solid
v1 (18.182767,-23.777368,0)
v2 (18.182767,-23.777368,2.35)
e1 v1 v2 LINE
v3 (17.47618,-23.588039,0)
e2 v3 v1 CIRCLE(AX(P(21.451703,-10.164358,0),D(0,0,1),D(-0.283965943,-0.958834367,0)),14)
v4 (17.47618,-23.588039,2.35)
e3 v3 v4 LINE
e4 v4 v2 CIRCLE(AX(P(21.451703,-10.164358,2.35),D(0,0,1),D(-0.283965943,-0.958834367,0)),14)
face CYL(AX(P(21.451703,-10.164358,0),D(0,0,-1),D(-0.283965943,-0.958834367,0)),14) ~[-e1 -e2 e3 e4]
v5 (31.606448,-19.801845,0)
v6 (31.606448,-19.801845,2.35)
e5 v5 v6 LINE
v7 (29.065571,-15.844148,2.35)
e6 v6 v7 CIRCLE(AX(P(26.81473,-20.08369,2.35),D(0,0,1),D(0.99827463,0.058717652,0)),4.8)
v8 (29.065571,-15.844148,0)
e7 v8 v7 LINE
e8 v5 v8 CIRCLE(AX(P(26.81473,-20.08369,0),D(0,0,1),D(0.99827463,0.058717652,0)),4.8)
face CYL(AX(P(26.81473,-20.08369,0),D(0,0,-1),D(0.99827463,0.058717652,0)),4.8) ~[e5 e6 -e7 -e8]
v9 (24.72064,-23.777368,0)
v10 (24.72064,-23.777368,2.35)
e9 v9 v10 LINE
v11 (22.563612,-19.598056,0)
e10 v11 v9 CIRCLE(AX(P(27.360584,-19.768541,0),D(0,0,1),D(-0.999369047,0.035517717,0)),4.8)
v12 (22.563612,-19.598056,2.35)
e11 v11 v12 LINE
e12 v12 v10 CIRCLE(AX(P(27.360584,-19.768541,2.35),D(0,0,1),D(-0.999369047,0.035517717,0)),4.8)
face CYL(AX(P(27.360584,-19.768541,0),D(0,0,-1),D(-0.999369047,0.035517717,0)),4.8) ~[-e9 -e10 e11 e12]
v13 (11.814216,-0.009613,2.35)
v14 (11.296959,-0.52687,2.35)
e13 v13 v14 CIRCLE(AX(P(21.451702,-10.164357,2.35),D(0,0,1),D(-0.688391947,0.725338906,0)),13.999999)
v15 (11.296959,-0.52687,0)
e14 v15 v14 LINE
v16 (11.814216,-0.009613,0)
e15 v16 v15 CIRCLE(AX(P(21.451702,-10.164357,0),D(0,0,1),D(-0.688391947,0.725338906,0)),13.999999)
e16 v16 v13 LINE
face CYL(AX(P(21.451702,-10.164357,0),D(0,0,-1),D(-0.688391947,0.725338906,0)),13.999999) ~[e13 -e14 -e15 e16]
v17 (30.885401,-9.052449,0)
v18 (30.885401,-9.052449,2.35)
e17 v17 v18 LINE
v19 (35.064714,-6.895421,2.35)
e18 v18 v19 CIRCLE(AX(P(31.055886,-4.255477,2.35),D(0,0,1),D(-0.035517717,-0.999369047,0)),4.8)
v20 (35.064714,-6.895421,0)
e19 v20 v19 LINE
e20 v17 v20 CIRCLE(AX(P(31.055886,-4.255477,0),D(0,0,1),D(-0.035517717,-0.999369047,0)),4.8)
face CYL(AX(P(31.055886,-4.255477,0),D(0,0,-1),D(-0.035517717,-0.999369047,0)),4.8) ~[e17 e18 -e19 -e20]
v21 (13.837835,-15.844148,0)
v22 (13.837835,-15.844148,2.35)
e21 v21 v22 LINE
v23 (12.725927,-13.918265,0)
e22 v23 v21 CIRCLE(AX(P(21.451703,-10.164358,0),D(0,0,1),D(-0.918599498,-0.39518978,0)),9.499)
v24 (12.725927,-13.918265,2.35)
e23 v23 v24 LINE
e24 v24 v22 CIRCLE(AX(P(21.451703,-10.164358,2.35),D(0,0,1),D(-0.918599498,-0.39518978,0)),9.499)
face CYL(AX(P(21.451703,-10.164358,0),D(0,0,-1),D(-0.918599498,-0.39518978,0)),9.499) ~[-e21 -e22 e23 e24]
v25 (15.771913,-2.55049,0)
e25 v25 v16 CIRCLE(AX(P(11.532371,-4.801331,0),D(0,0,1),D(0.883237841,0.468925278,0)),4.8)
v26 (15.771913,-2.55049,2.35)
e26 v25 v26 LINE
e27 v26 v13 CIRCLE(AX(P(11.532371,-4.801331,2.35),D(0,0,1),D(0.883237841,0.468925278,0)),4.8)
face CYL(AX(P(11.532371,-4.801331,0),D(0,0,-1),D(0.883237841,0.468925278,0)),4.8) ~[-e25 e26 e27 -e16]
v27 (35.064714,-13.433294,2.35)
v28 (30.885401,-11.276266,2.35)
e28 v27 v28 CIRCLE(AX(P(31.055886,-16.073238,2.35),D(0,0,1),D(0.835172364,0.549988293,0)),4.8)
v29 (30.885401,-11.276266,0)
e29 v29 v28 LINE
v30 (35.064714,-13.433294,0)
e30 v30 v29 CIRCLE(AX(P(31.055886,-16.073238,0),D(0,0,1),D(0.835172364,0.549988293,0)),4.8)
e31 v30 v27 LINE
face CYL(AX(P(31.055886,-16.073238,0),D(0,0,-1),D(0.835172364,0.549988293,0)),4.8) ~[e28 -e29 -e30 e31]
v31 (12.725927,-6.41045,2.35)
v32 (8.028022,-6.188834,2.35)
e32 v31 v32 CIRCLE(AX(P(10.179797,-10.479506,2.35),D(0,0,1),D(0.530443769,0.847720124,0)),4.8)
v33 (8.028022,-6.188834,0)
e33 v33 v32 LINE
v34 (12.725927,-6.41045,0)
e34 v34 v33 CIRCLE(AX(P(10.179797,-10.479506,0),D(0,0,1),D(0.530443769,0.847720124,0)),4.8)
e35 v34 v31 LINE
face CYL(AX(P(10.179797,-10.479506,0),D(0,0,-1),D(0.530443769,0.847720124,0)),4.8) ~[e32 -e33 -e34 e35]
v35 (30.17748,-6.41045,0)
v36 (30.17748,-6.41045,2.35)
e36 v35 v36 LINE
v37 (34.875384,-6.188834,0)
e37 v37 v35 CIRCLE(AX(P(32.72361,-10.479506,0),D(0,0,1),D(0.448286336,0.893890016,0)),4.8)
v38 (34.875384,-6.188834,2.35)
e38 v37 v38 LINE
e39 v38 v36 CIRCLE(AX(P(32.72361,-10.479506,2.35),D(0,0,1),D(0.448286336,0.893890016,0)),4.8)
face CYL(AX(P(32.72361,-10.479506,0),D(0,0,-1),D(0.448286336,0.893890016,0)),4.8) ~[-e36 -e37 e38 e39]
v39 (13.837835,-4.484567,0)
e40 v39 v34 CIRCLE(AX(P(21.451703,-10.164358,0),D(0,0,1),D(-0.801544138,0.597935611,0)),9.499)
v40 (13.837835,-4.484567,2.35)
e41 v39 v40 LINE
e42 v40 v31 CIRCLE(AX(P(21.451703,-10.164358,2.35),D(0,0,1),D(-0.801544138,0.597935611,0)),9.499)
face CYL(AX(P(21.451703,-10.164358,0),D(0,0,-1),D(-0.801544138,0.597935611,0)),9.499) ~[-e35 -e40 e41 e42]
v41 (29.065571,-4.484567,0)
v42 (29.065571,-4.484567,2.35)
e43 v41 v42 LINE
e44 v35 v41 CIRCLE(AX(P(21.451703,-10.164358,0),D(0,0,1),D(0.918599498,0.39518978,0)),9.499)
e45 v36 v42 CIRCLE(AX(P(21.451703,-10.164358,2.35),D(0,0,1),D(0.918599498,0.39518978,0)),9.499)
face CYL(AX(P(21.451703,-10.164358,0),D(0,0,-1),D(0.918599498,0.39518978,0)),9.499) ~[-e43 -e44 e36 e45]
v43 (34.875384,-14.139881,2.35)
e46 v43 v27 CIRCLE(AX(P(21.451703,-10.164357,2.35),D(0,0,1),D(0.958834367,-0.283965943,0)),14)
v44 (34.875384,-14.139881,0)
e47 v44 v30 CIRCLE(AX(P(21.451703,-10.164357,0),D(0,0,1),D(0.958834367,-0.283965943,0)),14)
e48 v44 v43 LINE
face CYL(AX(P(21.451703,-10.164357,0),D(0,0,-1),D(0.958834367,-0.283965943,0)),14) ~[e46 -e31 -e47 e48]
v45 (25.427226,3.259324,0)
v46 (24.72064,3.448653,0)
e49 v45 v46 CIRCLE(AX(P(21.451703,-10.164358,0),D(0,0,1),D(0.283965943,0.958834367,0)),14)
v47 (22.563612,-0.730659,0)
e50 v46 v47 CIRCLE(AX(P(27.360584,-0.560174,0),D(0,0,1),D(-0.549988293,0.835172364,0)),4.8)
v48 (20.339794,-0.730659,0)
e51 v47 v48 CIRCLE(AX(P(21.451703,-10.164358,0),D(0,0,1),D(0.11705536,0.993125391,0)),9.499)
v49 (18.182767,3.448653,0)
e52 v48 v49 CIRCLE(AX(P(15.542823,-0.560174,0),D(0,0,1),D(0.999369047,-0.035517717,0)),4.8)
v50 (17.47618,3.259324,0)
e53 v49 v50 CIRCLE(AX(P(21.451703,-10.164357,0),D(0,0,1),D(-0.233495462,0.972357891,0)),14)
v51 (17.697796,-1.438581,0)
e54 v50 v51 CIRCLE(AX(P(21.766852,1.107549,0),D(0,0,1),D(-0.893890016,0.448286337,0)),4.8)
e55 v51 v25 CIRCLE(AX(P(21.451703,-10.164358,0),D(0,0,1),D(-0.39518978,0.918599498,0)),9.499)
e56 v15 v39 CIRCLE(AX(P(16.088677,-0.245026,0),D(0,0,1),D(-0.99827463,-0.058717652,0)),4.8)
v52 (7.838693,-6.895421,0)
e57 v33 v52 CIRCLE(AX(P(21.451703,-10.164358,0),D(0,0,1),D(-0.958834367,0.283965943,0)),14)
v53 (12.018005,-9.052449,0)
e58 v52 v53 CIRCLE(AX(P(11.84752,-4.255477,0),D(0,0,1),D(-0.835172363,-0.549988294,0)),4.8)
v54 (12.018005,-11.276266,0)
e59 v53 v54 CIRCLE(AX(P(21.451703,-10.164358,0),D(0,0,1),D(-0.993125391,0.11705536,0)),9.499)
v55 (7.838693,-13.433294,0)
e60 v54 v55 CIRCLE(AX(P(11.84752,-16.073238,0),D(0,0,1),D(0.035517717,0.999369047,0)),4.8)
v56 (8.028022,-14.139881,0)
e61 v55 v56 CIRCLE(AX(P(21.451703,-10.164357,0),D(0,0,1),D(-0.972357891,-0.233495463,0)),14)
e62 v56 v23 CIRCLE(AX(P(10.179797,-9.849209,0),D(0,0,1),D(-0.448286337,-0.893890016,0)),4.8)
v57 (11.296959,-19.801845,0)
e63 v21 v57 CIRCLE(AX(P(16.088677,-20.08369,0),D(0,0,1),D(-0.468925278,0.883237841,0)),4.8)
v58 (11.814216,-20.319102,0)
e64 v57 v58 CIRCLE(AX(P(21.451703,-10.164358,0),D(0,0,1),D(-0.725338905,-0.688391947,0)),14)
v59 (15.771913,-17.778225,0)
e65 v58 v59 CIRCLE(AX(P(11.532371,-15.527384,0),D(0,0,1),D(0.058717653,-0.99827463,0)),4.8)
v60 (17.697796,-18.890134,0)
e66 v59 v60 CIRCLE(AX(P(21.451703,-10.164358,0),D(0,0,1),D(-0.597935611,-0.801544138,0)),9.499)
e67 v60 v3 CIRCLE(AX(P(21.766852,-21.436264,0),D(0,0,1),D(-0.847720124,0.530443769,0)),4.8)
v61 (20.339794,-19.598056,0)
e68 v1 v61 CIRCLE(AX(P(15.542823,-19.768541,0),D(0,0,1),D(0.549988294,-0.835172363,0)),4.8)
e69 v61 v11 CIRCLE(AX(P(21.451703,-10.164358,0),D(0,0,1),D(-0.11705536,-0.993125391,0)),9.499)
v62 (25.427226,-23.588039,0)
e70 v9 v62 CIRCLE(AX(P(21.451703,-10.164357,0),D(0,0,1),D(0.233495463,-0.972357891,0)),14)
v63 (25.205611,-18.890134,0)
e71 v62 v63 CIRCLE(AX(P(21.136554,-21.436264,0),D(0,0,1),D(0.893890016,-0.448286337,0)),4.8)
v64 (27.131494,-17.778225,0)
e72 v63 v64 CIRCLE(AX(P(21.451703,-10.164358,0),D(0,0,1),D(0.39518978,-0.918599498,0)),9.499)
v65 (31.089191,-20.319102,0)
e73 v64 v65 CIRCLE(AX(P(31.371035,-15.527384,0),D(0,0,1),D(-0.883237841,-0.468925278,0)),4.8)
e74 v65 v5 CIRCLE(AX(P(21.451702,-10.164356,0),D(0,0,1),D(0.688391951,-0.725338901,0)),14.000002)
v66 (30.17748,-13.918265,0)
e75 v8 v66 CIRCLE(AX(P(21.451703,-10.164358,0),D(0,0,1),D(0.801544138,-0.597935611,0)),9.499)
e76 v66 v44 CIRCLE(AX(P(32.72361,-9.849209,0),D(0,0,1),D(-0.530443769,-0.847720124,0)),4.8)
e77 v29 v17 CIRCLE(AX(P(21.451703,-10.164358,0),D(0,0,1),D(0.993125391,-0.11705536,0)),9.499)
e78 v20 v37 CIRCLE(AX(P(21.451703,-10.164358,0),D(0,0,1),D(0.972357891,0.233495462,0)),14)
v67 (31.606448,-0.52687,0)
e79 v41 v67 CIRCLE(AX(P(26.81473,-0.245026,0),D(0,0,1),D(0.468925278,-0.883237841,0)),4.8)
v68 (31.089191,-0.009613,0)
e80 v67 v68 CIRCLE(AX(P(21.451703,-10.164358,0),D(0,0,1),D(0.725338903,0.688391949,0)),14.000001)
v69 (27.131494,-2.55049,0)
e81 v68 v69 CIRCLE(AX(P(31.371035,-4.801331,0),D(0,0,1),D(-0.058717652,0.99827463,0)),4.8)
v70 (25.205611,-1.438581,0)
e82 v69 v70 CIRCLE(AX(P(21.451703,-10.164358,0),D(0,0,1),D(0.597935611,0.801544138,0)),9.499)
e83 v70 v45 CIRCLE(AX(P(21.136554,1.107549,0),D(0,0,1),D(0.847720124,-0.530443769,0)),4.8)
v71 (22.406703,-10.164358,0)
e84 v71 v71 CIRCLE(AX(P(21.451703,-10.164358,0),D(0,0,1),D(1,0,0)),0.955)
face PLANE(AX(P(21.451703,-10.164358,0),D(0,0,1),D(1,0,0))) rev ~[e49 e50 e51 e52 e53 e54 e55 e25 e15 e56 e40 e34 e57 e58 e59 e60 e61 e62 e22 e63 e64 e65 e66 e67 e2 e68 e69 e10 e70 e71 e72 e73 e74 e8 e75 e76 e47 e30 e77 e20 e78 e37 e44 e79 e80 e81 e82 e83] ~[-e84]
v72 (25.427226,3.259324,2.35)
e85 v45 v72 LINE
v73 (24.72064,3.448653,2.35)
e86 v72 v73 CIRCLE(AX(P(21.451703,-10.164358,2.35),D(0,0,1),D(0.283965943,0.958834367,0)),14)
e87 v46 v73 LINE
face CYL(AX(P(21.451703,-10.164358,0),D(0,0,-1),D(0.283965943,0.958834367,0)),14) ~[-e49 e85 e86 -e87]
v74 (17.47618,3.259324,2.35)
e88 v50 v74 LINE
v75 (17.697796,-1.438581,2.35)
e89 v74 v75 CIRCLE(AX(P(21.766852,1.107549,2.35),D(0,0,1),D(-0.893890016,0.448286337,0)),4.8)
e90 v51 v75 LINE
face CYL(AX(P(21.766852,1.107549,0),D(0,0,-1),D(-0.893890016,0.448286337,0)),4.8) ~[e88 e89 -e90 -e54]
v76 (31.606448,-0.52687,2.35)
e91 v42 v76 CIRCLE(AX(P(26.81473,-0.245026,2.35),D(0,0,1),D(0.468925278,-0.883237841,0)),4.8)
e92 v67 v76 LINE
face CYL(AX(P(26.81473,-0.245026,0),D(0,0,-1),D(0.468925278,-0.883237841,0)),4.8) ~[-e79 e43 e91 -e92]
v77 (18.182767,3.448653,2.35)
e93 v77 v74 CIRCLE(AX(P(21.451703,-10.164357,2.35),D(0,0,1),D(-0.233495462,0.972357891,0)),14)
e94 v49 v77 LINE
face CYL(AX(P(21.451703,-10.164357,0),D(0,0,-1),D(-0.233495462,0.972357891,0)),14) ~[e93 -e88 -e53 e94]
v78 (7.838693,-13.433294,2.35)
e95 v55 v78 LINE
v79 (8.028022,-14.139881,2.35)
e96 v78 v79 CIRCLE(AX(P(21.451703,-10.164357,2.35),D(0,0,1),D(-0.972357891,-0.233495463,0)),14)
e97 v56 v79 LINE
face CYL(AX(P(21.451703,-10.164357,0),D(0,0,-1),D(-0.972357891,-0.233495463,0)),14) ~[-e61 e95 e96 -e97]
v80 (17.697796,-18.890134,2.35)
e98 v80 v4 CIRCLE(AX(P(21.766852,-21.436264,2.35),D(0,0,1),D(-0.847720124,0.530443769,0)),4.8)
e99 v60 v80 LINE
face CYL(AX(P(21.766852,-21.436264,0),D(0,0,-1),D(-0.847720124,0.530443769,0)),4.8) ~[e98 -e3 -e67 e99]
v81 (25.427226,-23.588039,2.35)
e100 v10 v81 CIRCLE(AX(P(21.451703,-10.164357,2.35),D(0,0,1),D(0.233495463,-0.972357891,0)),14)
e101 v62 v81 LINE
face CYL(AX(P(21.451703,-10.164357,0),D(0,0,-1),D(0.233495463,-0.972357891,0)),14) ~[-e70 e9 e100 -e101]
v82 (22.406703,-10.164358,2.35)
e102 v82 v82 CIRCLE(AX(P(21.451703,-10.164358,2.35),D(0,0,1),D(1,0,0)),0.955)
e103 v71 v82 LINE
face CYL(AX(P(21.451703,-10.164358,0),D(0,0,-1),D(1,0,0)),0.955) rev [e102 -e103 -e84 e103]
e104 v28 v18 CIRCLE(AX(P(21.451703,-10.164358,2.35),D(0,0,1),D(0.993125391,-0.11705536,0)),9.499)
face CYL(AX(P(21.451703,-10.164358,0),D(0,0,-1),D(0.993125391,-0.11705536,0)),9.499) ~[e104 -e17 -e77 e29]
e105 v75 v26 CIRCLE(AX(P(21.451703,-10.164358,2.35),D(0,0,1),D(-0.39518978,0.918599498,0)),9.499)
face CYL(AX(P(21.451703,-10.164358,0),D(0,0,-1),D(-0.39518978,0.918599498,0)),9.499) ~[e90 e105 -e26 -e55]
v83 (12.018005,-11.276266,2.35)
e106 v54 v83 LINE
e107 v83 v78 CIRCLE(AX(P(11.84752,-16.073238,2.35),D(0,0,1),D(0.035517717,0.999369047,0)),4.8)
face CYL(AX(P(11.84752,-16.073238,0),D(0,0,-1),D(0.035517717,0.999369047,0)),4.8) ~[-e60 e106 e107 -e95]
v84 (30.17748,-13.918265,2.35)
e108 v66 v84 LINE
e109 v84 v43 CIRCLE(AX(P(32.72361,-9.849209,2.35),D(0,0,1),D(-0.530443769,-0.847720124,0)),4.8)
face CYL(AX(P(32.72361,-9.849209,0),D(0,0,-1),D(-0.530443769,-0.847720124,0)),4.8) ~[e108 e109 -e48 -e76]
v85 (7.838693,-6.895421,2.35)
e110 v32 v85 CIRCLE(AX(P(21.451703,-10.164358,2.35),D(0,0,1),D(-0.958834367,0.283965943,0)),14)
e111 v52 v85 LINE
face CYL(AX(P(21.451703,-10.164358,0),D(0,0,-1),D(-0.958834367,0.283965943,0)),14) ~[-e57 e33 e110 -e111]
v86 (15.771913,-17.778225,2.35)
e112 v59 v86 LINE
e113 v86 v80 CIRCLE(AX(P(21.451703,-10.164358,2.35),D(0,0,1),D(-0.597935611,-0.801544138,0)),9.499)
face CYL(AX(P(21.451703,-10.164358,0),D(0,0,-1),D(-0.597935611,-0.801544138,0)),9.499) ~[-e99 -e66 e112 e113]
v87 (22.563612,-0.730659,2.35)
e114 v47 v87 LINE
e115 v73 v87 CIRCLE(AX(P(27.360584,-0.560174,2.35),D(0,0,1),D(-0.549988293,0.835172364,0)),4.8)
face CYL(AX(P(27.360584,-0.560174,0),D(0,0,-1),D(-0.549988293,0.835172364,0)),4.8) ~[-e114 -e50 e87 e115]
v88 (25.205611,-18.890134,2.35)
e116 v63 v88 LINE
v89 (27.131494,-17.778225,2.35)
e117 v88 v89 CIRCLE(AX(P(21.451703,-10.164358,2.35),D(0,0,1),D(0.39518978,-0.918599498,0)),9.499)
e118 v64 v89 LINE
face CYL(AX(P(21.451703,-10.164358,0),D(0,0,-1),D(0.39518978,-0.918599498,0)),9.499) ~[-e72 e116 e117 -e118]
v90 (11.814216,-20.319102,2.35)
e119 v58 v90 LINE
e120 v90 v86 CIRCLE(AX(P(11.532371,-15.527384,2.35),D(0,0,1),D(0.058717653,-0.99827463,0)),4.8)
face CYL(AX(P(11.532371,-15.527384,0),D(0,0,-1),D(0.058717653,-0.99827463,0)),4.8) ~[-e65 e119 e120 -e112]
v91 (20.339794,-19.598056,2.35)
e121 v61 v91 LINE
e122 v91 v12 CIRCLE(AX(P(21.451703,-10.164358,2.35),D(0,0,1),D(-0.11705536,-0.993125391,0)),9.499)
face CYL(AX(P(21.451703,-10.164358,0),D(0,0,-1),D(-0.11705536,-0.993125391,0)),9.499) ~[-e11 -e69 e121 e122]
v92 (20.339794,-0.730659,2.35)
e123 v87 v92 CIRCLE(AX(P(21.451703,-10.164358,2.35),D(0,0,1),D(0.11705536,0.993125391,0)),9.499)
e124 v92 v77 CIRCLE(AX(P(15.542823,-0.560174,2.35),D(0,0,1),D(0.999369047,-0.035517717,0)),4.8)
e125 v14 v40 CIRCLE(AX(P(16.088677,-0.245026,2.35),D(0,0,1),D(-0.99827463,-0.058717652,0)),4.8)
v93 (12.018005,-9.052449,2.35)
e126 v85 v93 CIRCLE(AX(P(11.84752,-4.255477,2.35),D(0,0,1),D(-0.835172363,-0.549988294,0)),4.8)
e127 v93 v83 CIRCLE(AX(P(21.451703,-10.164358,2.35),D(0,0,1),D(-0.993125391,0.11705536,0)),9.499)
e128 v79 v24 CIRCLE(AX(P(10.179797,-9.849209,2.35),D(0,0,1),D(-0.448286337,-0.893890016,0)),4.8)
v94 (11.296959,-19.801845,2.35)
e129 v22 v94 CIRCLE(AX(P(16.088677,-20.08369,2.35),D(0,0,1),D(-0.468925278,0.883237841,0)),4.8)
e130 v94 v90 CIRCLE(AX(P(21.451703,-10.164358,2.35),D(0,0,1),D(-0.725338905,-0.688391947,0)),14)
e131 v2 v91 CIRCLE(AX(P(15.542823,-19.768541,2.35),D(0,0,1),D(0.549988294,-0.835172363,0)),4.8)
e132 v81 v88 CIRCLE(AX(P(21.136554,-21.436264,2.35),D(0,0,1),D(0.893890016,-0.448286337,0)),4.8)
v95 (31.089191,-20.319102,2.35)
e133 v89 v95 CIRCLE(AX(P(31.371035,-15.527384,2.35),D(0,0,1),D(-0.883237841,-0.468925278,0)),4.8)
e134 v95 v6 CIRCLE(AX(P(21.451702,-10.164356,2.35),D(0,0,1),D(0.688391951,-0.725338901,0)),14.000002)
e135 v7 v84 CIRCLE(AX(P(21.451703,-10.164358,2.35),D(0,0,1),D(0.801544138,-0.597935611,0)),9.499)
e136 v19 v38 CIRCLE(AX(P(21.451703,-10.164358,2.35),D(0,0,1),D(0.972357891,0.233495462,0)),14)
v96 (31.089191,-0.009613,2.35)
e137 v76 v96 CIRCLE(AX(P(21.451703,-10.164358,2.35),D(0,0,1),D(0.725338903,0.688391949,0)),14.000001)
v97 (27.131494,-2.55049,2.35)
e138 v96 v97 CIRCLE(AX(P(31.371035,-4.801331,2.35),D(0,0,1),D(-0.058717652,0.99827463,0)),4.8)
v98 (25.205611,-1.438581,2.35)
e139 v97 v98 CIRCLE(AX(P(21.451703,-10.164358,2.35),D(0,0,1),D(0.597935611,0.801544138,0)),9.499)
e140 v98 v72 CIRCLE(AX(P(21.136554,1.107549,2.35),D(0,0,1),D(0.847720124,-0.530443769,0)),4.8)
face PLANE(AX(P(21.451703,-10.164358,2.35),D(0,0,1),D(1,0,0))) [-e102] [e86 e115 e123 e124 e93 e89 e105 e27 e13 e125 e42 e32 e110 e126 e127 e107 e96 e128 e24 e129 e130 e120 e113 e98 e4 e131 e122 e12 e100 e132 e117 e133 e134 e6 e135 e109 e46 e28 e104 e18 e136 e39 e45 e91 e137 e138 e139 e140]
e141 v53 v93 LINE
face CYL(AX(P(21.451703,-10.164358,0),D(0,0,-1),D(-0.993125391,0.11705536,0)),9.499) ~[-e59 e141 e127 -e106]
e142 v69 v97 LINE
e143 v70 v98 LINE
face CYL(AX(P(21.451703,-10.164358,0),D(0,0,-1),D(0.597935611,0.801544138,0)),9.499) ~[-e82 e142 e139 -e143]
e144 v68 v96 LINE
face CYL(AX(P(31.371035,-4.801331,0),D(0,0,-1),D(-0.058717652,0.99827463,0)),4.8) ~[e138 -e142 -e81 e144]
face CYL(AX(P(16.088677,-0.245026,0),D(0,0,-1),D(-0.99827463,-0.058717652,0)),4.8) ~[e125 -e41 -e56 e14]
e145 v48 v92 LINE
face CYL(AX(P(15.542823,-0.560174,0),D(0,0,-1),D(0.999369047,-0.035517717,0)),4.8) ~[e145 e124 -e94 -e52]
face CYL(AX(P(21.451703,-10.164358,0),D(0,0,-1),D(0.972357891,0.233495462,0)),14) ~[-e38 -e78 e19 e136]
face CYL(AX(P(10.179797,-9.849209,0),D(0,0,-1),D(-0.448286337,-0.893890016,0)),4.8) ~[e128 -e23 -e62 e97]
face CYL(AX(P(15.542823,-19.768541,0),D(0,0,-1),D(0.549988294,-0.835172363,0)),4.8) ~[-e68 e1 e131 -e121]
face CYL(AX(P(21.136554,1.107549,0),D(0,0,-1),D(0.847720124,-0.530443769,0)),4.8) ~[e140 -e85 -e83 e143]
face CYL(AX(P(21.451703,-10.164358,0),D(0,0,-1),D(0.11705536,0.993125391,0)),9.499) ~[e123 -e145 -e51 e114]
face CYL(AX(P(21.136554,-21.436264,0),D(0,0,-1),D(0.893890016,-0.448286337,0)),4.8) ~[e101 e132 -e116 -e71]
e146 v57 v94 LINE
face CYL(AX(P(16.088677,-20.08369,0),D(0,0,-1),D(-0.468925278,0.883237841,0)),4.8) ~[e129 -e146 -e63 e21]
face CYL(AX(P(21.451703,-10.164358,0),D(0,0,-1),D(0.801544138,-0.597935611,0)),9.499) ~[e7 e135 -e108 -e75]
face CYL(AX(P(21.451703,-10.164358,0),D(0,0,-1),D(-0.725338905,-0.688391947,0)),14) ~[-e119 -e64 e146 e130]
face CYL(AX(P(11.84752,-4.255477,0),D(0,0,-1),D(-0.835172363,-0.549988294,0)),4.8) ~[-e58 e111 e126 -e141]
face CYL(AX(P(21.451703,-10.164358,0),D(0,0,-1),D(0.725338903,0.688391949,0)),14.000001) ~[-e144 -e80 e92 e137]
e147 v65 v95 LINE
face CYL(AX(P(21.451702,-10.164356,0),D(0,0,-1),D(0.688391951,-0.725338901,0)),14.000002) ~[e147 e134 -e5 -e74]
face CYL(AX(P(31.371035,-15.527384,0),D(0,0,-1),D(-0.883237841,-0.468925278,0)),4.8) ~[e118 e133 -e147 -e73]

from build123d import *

# Parameters (mm, degrees)
SKETCH1_R           = 0.955
BOSS_EXTRUDE1_DEPTH = 2.35


with BuildPart() as part:
    # Sketch1 → Boss-Extrude1 (new body)
    with BuildSketch(Plane.XY):
        with BuildLine():
            ThreePointArc((31.089190509, -0.00961289), (28.777823425, -0.762116774), (27.131493603, -2.550489779))
            ThreePointArc((27.131493603, -2.550489779), (26.201203233, -1.937982234), (25.205610954, -1.438580913))
            ThreePointArc((25.205610954, -1.438580913), (25.931222497, 0.881369039), (25.427226435, 3.259323592))
            ThreePointArc((25.427226435, 3.259323592), (25.075169864, 3.358604023), (24.720639715, 3.448652933))
            ThreePointArc((24.720639715, 3.448652933), (23.095189045, 1.641281911), (22.563612099, -0.730659454))
            ThreePointArc((22.563612099, -0.730659454), (21.451703233, -0.665357545), (20.339794367, -0.730659454))
            ThreePointArc((20.339794367, -0.730659454), (19.80821742, 1.641281911), (18.182766751, 3.448652933))
            ThreePointArc((18.182766751, 3.448652933), (17.828236601, 3.358604023), (17.47618003, 3.259323592))
            ThreePointArc((17.47618003, 3.259323592), (16.972183969, 0.881369039), (17.697795512, -1.438580913))
            ThreePointArc((17.697795512, -1.438580913), (16.702203233, -1.937982234), (15.771912863, -2.550489779))
            ThreePointArc((15.771912863, -2.550489779), (14.12558304, -0.762116774), (11.814215957, -0.00961289))
            ThreePointArc((11.814215957, -0.00961289), (11.552208296, -0.264862608), (11.296958578, -0.526870269))
            ThreePointArc((11.296958578, -0.526870269), (12.049462462, -2.838237352), (13.837835467, -4.484567174))
            ThreePointArc((13.837835467, -4.484567174), (13.225327922, -5.414857545), (12.725926601, -6.410449824))
            ThreePointArc((12.725926601, -6.410449824), (10.40597665, -5.684838281), (8.028022096, -6.188834342))
            ThreePointArc((8.028022096, -6.188834342), (7.928741665, -6.540890913), (7.838692755, -6.895421063))
            ThreePointArc((7.838692755, -6.895421063), (9.646063777, -8.520871732), (12.018005142, -9.052448679))
            ThreePointArc((12.018005142, -9.052448679), (11.952703233, -10.164357545), (12.018005142, -11.276266411))
            ThreePointArc((12.018005142, -11.276266411), (9.646063777, -11.807843357), (7.838692755, -13.433294027))
            ThreePointArc((7.838692755, -13.433294027), (7.928741665, -13.787824176), (8.028022096, -14.139880747))
            ThreePointArc((8.028022096, -14.139880747), (10.40597665, -14.643876808), (12.725926601, -13.918265265))
            ThreePointArc((12.725926601, -13.918265265), (13.225327922, -14.913857545), (13.837835467, -15.844147915))
            ThreePointArc((13.837835467, -15.844147915), (12.049462462, -17.490477737), (11.296958578, -19.80184482))
            ThreePointArc((11.296958578, -19.80184482), (11.552208296, -20.063852481), (11.814215957, -20.3191022))
            ThreePointArc((11.814215957, -20.3191022), (14.12558304, -19.566598315), (15.771912863, -17.77822531))
            ThreePointArc((15.771912863, -17.77822531), (16.702203233, -18.390732855), (17.697795512, -18.890134176))
            ThreePointArc((17.697795512, -18.890134176), (16.972183969, -21.210084128), (17.47618003, -23.588038682))
            ThreePointArc((17.47618003, -23.588038682), (17.828236601, -23.687319113), (18.182766751, -23.777368023))
            ThreePointArc((18.182766751, -23.777368023), (19.80821742, -21.969997001), (20.339794367, -19.598055636))
            ThreePointArc((20.339794367, -19.598055636), (21.451703233, -19.663357545), (22.563612099, -19.598055636))
            ThreePointArc((22.563612099, -19.598055636), (23.095189045, -21.969997001), (24.720639715, -23.777368023))
            ThreePointArc((24.720639715, -23.777368023), (25.075169864, -23.687319113), (25.427226435, -23.588038682))
            ThreePointArc((25.427226435, -23.588038682), (25.931222497, -21.210084128), (25.205610954, -18.890134176))
            ThreePointArc((25.205610954, -18.890134176), (26.201203233, -18.390732855), (27.131493603, -17.77822531))
            ThreePointArc((27.131493603, -17.77822531), (28.777823425, -19.566598315), (31.089190509, -20.3191022))
            ThreePointArc((31.089190509, -20.3191022), (31.351198169, -20.063852481), (31.606447888, -19.80184482))
            ThreePointArc((31.606447888, -19.80184482), (30.853944004, -17.490477737), (29.065570998, -15.844147915))
            ThreePointArc((29.065570998, -15.844147915), (29.678078543, -14.913857545), (30.177479864, -13.918265265))
            ThreePointArc((30.177479864, -13.918265265), (32.497429816, -14.643876808), (34.87538437, -14.139880747))
            ThreePointArc((34.87538437, -14.139880747), (34.974664801, -13.787824176), (35.064713711, -13.433294027))
            ThreePointArc((35.064713711, -13.433294027), (33.257342689, -11.807843357), (30.885401324, -11.276266411))
            ThreePointArc((30.885401324, -11.276266411), (30.950703233, -10.164357545), (30.885401324, -9.052448679))
            ThreePointArc((30.885401324, -9.052448679), (33.257342689, -8.520871732), (35.064713711, -6.895421063))
            ThreePointArc((35.064713711, -6.895421063), (34.974664801, -6.540890913), (34.87538437, -6.188834342))
            ThreePointArc((34.87538437, -6.188834342), (32.497429816, -5.684838281), (30.177479864, -6.410449824))
            ThreePointArc((30.177479864, -6.410449824), (29.678078543, -5.414857545), (29.065570998, -4.484567174))
            ThreePointArc((29.065570998, -4.484567174), (30.853944004, -2.838237352), (31.606447888, -0.526870269))
            ThreePointArc((31.606447888, -0.526870269), (31.351198169, -0.264862608), (31.089190509, -0.00961289))
        make_face()
        with Locations((21.451703233, -10.164357545)):
            Circle(SKETCH1_R, mode=Mode.SUBTRACT)
    extrude(amount=BOSS_EXTRUDE1_DEPTH)


solid = part.part
